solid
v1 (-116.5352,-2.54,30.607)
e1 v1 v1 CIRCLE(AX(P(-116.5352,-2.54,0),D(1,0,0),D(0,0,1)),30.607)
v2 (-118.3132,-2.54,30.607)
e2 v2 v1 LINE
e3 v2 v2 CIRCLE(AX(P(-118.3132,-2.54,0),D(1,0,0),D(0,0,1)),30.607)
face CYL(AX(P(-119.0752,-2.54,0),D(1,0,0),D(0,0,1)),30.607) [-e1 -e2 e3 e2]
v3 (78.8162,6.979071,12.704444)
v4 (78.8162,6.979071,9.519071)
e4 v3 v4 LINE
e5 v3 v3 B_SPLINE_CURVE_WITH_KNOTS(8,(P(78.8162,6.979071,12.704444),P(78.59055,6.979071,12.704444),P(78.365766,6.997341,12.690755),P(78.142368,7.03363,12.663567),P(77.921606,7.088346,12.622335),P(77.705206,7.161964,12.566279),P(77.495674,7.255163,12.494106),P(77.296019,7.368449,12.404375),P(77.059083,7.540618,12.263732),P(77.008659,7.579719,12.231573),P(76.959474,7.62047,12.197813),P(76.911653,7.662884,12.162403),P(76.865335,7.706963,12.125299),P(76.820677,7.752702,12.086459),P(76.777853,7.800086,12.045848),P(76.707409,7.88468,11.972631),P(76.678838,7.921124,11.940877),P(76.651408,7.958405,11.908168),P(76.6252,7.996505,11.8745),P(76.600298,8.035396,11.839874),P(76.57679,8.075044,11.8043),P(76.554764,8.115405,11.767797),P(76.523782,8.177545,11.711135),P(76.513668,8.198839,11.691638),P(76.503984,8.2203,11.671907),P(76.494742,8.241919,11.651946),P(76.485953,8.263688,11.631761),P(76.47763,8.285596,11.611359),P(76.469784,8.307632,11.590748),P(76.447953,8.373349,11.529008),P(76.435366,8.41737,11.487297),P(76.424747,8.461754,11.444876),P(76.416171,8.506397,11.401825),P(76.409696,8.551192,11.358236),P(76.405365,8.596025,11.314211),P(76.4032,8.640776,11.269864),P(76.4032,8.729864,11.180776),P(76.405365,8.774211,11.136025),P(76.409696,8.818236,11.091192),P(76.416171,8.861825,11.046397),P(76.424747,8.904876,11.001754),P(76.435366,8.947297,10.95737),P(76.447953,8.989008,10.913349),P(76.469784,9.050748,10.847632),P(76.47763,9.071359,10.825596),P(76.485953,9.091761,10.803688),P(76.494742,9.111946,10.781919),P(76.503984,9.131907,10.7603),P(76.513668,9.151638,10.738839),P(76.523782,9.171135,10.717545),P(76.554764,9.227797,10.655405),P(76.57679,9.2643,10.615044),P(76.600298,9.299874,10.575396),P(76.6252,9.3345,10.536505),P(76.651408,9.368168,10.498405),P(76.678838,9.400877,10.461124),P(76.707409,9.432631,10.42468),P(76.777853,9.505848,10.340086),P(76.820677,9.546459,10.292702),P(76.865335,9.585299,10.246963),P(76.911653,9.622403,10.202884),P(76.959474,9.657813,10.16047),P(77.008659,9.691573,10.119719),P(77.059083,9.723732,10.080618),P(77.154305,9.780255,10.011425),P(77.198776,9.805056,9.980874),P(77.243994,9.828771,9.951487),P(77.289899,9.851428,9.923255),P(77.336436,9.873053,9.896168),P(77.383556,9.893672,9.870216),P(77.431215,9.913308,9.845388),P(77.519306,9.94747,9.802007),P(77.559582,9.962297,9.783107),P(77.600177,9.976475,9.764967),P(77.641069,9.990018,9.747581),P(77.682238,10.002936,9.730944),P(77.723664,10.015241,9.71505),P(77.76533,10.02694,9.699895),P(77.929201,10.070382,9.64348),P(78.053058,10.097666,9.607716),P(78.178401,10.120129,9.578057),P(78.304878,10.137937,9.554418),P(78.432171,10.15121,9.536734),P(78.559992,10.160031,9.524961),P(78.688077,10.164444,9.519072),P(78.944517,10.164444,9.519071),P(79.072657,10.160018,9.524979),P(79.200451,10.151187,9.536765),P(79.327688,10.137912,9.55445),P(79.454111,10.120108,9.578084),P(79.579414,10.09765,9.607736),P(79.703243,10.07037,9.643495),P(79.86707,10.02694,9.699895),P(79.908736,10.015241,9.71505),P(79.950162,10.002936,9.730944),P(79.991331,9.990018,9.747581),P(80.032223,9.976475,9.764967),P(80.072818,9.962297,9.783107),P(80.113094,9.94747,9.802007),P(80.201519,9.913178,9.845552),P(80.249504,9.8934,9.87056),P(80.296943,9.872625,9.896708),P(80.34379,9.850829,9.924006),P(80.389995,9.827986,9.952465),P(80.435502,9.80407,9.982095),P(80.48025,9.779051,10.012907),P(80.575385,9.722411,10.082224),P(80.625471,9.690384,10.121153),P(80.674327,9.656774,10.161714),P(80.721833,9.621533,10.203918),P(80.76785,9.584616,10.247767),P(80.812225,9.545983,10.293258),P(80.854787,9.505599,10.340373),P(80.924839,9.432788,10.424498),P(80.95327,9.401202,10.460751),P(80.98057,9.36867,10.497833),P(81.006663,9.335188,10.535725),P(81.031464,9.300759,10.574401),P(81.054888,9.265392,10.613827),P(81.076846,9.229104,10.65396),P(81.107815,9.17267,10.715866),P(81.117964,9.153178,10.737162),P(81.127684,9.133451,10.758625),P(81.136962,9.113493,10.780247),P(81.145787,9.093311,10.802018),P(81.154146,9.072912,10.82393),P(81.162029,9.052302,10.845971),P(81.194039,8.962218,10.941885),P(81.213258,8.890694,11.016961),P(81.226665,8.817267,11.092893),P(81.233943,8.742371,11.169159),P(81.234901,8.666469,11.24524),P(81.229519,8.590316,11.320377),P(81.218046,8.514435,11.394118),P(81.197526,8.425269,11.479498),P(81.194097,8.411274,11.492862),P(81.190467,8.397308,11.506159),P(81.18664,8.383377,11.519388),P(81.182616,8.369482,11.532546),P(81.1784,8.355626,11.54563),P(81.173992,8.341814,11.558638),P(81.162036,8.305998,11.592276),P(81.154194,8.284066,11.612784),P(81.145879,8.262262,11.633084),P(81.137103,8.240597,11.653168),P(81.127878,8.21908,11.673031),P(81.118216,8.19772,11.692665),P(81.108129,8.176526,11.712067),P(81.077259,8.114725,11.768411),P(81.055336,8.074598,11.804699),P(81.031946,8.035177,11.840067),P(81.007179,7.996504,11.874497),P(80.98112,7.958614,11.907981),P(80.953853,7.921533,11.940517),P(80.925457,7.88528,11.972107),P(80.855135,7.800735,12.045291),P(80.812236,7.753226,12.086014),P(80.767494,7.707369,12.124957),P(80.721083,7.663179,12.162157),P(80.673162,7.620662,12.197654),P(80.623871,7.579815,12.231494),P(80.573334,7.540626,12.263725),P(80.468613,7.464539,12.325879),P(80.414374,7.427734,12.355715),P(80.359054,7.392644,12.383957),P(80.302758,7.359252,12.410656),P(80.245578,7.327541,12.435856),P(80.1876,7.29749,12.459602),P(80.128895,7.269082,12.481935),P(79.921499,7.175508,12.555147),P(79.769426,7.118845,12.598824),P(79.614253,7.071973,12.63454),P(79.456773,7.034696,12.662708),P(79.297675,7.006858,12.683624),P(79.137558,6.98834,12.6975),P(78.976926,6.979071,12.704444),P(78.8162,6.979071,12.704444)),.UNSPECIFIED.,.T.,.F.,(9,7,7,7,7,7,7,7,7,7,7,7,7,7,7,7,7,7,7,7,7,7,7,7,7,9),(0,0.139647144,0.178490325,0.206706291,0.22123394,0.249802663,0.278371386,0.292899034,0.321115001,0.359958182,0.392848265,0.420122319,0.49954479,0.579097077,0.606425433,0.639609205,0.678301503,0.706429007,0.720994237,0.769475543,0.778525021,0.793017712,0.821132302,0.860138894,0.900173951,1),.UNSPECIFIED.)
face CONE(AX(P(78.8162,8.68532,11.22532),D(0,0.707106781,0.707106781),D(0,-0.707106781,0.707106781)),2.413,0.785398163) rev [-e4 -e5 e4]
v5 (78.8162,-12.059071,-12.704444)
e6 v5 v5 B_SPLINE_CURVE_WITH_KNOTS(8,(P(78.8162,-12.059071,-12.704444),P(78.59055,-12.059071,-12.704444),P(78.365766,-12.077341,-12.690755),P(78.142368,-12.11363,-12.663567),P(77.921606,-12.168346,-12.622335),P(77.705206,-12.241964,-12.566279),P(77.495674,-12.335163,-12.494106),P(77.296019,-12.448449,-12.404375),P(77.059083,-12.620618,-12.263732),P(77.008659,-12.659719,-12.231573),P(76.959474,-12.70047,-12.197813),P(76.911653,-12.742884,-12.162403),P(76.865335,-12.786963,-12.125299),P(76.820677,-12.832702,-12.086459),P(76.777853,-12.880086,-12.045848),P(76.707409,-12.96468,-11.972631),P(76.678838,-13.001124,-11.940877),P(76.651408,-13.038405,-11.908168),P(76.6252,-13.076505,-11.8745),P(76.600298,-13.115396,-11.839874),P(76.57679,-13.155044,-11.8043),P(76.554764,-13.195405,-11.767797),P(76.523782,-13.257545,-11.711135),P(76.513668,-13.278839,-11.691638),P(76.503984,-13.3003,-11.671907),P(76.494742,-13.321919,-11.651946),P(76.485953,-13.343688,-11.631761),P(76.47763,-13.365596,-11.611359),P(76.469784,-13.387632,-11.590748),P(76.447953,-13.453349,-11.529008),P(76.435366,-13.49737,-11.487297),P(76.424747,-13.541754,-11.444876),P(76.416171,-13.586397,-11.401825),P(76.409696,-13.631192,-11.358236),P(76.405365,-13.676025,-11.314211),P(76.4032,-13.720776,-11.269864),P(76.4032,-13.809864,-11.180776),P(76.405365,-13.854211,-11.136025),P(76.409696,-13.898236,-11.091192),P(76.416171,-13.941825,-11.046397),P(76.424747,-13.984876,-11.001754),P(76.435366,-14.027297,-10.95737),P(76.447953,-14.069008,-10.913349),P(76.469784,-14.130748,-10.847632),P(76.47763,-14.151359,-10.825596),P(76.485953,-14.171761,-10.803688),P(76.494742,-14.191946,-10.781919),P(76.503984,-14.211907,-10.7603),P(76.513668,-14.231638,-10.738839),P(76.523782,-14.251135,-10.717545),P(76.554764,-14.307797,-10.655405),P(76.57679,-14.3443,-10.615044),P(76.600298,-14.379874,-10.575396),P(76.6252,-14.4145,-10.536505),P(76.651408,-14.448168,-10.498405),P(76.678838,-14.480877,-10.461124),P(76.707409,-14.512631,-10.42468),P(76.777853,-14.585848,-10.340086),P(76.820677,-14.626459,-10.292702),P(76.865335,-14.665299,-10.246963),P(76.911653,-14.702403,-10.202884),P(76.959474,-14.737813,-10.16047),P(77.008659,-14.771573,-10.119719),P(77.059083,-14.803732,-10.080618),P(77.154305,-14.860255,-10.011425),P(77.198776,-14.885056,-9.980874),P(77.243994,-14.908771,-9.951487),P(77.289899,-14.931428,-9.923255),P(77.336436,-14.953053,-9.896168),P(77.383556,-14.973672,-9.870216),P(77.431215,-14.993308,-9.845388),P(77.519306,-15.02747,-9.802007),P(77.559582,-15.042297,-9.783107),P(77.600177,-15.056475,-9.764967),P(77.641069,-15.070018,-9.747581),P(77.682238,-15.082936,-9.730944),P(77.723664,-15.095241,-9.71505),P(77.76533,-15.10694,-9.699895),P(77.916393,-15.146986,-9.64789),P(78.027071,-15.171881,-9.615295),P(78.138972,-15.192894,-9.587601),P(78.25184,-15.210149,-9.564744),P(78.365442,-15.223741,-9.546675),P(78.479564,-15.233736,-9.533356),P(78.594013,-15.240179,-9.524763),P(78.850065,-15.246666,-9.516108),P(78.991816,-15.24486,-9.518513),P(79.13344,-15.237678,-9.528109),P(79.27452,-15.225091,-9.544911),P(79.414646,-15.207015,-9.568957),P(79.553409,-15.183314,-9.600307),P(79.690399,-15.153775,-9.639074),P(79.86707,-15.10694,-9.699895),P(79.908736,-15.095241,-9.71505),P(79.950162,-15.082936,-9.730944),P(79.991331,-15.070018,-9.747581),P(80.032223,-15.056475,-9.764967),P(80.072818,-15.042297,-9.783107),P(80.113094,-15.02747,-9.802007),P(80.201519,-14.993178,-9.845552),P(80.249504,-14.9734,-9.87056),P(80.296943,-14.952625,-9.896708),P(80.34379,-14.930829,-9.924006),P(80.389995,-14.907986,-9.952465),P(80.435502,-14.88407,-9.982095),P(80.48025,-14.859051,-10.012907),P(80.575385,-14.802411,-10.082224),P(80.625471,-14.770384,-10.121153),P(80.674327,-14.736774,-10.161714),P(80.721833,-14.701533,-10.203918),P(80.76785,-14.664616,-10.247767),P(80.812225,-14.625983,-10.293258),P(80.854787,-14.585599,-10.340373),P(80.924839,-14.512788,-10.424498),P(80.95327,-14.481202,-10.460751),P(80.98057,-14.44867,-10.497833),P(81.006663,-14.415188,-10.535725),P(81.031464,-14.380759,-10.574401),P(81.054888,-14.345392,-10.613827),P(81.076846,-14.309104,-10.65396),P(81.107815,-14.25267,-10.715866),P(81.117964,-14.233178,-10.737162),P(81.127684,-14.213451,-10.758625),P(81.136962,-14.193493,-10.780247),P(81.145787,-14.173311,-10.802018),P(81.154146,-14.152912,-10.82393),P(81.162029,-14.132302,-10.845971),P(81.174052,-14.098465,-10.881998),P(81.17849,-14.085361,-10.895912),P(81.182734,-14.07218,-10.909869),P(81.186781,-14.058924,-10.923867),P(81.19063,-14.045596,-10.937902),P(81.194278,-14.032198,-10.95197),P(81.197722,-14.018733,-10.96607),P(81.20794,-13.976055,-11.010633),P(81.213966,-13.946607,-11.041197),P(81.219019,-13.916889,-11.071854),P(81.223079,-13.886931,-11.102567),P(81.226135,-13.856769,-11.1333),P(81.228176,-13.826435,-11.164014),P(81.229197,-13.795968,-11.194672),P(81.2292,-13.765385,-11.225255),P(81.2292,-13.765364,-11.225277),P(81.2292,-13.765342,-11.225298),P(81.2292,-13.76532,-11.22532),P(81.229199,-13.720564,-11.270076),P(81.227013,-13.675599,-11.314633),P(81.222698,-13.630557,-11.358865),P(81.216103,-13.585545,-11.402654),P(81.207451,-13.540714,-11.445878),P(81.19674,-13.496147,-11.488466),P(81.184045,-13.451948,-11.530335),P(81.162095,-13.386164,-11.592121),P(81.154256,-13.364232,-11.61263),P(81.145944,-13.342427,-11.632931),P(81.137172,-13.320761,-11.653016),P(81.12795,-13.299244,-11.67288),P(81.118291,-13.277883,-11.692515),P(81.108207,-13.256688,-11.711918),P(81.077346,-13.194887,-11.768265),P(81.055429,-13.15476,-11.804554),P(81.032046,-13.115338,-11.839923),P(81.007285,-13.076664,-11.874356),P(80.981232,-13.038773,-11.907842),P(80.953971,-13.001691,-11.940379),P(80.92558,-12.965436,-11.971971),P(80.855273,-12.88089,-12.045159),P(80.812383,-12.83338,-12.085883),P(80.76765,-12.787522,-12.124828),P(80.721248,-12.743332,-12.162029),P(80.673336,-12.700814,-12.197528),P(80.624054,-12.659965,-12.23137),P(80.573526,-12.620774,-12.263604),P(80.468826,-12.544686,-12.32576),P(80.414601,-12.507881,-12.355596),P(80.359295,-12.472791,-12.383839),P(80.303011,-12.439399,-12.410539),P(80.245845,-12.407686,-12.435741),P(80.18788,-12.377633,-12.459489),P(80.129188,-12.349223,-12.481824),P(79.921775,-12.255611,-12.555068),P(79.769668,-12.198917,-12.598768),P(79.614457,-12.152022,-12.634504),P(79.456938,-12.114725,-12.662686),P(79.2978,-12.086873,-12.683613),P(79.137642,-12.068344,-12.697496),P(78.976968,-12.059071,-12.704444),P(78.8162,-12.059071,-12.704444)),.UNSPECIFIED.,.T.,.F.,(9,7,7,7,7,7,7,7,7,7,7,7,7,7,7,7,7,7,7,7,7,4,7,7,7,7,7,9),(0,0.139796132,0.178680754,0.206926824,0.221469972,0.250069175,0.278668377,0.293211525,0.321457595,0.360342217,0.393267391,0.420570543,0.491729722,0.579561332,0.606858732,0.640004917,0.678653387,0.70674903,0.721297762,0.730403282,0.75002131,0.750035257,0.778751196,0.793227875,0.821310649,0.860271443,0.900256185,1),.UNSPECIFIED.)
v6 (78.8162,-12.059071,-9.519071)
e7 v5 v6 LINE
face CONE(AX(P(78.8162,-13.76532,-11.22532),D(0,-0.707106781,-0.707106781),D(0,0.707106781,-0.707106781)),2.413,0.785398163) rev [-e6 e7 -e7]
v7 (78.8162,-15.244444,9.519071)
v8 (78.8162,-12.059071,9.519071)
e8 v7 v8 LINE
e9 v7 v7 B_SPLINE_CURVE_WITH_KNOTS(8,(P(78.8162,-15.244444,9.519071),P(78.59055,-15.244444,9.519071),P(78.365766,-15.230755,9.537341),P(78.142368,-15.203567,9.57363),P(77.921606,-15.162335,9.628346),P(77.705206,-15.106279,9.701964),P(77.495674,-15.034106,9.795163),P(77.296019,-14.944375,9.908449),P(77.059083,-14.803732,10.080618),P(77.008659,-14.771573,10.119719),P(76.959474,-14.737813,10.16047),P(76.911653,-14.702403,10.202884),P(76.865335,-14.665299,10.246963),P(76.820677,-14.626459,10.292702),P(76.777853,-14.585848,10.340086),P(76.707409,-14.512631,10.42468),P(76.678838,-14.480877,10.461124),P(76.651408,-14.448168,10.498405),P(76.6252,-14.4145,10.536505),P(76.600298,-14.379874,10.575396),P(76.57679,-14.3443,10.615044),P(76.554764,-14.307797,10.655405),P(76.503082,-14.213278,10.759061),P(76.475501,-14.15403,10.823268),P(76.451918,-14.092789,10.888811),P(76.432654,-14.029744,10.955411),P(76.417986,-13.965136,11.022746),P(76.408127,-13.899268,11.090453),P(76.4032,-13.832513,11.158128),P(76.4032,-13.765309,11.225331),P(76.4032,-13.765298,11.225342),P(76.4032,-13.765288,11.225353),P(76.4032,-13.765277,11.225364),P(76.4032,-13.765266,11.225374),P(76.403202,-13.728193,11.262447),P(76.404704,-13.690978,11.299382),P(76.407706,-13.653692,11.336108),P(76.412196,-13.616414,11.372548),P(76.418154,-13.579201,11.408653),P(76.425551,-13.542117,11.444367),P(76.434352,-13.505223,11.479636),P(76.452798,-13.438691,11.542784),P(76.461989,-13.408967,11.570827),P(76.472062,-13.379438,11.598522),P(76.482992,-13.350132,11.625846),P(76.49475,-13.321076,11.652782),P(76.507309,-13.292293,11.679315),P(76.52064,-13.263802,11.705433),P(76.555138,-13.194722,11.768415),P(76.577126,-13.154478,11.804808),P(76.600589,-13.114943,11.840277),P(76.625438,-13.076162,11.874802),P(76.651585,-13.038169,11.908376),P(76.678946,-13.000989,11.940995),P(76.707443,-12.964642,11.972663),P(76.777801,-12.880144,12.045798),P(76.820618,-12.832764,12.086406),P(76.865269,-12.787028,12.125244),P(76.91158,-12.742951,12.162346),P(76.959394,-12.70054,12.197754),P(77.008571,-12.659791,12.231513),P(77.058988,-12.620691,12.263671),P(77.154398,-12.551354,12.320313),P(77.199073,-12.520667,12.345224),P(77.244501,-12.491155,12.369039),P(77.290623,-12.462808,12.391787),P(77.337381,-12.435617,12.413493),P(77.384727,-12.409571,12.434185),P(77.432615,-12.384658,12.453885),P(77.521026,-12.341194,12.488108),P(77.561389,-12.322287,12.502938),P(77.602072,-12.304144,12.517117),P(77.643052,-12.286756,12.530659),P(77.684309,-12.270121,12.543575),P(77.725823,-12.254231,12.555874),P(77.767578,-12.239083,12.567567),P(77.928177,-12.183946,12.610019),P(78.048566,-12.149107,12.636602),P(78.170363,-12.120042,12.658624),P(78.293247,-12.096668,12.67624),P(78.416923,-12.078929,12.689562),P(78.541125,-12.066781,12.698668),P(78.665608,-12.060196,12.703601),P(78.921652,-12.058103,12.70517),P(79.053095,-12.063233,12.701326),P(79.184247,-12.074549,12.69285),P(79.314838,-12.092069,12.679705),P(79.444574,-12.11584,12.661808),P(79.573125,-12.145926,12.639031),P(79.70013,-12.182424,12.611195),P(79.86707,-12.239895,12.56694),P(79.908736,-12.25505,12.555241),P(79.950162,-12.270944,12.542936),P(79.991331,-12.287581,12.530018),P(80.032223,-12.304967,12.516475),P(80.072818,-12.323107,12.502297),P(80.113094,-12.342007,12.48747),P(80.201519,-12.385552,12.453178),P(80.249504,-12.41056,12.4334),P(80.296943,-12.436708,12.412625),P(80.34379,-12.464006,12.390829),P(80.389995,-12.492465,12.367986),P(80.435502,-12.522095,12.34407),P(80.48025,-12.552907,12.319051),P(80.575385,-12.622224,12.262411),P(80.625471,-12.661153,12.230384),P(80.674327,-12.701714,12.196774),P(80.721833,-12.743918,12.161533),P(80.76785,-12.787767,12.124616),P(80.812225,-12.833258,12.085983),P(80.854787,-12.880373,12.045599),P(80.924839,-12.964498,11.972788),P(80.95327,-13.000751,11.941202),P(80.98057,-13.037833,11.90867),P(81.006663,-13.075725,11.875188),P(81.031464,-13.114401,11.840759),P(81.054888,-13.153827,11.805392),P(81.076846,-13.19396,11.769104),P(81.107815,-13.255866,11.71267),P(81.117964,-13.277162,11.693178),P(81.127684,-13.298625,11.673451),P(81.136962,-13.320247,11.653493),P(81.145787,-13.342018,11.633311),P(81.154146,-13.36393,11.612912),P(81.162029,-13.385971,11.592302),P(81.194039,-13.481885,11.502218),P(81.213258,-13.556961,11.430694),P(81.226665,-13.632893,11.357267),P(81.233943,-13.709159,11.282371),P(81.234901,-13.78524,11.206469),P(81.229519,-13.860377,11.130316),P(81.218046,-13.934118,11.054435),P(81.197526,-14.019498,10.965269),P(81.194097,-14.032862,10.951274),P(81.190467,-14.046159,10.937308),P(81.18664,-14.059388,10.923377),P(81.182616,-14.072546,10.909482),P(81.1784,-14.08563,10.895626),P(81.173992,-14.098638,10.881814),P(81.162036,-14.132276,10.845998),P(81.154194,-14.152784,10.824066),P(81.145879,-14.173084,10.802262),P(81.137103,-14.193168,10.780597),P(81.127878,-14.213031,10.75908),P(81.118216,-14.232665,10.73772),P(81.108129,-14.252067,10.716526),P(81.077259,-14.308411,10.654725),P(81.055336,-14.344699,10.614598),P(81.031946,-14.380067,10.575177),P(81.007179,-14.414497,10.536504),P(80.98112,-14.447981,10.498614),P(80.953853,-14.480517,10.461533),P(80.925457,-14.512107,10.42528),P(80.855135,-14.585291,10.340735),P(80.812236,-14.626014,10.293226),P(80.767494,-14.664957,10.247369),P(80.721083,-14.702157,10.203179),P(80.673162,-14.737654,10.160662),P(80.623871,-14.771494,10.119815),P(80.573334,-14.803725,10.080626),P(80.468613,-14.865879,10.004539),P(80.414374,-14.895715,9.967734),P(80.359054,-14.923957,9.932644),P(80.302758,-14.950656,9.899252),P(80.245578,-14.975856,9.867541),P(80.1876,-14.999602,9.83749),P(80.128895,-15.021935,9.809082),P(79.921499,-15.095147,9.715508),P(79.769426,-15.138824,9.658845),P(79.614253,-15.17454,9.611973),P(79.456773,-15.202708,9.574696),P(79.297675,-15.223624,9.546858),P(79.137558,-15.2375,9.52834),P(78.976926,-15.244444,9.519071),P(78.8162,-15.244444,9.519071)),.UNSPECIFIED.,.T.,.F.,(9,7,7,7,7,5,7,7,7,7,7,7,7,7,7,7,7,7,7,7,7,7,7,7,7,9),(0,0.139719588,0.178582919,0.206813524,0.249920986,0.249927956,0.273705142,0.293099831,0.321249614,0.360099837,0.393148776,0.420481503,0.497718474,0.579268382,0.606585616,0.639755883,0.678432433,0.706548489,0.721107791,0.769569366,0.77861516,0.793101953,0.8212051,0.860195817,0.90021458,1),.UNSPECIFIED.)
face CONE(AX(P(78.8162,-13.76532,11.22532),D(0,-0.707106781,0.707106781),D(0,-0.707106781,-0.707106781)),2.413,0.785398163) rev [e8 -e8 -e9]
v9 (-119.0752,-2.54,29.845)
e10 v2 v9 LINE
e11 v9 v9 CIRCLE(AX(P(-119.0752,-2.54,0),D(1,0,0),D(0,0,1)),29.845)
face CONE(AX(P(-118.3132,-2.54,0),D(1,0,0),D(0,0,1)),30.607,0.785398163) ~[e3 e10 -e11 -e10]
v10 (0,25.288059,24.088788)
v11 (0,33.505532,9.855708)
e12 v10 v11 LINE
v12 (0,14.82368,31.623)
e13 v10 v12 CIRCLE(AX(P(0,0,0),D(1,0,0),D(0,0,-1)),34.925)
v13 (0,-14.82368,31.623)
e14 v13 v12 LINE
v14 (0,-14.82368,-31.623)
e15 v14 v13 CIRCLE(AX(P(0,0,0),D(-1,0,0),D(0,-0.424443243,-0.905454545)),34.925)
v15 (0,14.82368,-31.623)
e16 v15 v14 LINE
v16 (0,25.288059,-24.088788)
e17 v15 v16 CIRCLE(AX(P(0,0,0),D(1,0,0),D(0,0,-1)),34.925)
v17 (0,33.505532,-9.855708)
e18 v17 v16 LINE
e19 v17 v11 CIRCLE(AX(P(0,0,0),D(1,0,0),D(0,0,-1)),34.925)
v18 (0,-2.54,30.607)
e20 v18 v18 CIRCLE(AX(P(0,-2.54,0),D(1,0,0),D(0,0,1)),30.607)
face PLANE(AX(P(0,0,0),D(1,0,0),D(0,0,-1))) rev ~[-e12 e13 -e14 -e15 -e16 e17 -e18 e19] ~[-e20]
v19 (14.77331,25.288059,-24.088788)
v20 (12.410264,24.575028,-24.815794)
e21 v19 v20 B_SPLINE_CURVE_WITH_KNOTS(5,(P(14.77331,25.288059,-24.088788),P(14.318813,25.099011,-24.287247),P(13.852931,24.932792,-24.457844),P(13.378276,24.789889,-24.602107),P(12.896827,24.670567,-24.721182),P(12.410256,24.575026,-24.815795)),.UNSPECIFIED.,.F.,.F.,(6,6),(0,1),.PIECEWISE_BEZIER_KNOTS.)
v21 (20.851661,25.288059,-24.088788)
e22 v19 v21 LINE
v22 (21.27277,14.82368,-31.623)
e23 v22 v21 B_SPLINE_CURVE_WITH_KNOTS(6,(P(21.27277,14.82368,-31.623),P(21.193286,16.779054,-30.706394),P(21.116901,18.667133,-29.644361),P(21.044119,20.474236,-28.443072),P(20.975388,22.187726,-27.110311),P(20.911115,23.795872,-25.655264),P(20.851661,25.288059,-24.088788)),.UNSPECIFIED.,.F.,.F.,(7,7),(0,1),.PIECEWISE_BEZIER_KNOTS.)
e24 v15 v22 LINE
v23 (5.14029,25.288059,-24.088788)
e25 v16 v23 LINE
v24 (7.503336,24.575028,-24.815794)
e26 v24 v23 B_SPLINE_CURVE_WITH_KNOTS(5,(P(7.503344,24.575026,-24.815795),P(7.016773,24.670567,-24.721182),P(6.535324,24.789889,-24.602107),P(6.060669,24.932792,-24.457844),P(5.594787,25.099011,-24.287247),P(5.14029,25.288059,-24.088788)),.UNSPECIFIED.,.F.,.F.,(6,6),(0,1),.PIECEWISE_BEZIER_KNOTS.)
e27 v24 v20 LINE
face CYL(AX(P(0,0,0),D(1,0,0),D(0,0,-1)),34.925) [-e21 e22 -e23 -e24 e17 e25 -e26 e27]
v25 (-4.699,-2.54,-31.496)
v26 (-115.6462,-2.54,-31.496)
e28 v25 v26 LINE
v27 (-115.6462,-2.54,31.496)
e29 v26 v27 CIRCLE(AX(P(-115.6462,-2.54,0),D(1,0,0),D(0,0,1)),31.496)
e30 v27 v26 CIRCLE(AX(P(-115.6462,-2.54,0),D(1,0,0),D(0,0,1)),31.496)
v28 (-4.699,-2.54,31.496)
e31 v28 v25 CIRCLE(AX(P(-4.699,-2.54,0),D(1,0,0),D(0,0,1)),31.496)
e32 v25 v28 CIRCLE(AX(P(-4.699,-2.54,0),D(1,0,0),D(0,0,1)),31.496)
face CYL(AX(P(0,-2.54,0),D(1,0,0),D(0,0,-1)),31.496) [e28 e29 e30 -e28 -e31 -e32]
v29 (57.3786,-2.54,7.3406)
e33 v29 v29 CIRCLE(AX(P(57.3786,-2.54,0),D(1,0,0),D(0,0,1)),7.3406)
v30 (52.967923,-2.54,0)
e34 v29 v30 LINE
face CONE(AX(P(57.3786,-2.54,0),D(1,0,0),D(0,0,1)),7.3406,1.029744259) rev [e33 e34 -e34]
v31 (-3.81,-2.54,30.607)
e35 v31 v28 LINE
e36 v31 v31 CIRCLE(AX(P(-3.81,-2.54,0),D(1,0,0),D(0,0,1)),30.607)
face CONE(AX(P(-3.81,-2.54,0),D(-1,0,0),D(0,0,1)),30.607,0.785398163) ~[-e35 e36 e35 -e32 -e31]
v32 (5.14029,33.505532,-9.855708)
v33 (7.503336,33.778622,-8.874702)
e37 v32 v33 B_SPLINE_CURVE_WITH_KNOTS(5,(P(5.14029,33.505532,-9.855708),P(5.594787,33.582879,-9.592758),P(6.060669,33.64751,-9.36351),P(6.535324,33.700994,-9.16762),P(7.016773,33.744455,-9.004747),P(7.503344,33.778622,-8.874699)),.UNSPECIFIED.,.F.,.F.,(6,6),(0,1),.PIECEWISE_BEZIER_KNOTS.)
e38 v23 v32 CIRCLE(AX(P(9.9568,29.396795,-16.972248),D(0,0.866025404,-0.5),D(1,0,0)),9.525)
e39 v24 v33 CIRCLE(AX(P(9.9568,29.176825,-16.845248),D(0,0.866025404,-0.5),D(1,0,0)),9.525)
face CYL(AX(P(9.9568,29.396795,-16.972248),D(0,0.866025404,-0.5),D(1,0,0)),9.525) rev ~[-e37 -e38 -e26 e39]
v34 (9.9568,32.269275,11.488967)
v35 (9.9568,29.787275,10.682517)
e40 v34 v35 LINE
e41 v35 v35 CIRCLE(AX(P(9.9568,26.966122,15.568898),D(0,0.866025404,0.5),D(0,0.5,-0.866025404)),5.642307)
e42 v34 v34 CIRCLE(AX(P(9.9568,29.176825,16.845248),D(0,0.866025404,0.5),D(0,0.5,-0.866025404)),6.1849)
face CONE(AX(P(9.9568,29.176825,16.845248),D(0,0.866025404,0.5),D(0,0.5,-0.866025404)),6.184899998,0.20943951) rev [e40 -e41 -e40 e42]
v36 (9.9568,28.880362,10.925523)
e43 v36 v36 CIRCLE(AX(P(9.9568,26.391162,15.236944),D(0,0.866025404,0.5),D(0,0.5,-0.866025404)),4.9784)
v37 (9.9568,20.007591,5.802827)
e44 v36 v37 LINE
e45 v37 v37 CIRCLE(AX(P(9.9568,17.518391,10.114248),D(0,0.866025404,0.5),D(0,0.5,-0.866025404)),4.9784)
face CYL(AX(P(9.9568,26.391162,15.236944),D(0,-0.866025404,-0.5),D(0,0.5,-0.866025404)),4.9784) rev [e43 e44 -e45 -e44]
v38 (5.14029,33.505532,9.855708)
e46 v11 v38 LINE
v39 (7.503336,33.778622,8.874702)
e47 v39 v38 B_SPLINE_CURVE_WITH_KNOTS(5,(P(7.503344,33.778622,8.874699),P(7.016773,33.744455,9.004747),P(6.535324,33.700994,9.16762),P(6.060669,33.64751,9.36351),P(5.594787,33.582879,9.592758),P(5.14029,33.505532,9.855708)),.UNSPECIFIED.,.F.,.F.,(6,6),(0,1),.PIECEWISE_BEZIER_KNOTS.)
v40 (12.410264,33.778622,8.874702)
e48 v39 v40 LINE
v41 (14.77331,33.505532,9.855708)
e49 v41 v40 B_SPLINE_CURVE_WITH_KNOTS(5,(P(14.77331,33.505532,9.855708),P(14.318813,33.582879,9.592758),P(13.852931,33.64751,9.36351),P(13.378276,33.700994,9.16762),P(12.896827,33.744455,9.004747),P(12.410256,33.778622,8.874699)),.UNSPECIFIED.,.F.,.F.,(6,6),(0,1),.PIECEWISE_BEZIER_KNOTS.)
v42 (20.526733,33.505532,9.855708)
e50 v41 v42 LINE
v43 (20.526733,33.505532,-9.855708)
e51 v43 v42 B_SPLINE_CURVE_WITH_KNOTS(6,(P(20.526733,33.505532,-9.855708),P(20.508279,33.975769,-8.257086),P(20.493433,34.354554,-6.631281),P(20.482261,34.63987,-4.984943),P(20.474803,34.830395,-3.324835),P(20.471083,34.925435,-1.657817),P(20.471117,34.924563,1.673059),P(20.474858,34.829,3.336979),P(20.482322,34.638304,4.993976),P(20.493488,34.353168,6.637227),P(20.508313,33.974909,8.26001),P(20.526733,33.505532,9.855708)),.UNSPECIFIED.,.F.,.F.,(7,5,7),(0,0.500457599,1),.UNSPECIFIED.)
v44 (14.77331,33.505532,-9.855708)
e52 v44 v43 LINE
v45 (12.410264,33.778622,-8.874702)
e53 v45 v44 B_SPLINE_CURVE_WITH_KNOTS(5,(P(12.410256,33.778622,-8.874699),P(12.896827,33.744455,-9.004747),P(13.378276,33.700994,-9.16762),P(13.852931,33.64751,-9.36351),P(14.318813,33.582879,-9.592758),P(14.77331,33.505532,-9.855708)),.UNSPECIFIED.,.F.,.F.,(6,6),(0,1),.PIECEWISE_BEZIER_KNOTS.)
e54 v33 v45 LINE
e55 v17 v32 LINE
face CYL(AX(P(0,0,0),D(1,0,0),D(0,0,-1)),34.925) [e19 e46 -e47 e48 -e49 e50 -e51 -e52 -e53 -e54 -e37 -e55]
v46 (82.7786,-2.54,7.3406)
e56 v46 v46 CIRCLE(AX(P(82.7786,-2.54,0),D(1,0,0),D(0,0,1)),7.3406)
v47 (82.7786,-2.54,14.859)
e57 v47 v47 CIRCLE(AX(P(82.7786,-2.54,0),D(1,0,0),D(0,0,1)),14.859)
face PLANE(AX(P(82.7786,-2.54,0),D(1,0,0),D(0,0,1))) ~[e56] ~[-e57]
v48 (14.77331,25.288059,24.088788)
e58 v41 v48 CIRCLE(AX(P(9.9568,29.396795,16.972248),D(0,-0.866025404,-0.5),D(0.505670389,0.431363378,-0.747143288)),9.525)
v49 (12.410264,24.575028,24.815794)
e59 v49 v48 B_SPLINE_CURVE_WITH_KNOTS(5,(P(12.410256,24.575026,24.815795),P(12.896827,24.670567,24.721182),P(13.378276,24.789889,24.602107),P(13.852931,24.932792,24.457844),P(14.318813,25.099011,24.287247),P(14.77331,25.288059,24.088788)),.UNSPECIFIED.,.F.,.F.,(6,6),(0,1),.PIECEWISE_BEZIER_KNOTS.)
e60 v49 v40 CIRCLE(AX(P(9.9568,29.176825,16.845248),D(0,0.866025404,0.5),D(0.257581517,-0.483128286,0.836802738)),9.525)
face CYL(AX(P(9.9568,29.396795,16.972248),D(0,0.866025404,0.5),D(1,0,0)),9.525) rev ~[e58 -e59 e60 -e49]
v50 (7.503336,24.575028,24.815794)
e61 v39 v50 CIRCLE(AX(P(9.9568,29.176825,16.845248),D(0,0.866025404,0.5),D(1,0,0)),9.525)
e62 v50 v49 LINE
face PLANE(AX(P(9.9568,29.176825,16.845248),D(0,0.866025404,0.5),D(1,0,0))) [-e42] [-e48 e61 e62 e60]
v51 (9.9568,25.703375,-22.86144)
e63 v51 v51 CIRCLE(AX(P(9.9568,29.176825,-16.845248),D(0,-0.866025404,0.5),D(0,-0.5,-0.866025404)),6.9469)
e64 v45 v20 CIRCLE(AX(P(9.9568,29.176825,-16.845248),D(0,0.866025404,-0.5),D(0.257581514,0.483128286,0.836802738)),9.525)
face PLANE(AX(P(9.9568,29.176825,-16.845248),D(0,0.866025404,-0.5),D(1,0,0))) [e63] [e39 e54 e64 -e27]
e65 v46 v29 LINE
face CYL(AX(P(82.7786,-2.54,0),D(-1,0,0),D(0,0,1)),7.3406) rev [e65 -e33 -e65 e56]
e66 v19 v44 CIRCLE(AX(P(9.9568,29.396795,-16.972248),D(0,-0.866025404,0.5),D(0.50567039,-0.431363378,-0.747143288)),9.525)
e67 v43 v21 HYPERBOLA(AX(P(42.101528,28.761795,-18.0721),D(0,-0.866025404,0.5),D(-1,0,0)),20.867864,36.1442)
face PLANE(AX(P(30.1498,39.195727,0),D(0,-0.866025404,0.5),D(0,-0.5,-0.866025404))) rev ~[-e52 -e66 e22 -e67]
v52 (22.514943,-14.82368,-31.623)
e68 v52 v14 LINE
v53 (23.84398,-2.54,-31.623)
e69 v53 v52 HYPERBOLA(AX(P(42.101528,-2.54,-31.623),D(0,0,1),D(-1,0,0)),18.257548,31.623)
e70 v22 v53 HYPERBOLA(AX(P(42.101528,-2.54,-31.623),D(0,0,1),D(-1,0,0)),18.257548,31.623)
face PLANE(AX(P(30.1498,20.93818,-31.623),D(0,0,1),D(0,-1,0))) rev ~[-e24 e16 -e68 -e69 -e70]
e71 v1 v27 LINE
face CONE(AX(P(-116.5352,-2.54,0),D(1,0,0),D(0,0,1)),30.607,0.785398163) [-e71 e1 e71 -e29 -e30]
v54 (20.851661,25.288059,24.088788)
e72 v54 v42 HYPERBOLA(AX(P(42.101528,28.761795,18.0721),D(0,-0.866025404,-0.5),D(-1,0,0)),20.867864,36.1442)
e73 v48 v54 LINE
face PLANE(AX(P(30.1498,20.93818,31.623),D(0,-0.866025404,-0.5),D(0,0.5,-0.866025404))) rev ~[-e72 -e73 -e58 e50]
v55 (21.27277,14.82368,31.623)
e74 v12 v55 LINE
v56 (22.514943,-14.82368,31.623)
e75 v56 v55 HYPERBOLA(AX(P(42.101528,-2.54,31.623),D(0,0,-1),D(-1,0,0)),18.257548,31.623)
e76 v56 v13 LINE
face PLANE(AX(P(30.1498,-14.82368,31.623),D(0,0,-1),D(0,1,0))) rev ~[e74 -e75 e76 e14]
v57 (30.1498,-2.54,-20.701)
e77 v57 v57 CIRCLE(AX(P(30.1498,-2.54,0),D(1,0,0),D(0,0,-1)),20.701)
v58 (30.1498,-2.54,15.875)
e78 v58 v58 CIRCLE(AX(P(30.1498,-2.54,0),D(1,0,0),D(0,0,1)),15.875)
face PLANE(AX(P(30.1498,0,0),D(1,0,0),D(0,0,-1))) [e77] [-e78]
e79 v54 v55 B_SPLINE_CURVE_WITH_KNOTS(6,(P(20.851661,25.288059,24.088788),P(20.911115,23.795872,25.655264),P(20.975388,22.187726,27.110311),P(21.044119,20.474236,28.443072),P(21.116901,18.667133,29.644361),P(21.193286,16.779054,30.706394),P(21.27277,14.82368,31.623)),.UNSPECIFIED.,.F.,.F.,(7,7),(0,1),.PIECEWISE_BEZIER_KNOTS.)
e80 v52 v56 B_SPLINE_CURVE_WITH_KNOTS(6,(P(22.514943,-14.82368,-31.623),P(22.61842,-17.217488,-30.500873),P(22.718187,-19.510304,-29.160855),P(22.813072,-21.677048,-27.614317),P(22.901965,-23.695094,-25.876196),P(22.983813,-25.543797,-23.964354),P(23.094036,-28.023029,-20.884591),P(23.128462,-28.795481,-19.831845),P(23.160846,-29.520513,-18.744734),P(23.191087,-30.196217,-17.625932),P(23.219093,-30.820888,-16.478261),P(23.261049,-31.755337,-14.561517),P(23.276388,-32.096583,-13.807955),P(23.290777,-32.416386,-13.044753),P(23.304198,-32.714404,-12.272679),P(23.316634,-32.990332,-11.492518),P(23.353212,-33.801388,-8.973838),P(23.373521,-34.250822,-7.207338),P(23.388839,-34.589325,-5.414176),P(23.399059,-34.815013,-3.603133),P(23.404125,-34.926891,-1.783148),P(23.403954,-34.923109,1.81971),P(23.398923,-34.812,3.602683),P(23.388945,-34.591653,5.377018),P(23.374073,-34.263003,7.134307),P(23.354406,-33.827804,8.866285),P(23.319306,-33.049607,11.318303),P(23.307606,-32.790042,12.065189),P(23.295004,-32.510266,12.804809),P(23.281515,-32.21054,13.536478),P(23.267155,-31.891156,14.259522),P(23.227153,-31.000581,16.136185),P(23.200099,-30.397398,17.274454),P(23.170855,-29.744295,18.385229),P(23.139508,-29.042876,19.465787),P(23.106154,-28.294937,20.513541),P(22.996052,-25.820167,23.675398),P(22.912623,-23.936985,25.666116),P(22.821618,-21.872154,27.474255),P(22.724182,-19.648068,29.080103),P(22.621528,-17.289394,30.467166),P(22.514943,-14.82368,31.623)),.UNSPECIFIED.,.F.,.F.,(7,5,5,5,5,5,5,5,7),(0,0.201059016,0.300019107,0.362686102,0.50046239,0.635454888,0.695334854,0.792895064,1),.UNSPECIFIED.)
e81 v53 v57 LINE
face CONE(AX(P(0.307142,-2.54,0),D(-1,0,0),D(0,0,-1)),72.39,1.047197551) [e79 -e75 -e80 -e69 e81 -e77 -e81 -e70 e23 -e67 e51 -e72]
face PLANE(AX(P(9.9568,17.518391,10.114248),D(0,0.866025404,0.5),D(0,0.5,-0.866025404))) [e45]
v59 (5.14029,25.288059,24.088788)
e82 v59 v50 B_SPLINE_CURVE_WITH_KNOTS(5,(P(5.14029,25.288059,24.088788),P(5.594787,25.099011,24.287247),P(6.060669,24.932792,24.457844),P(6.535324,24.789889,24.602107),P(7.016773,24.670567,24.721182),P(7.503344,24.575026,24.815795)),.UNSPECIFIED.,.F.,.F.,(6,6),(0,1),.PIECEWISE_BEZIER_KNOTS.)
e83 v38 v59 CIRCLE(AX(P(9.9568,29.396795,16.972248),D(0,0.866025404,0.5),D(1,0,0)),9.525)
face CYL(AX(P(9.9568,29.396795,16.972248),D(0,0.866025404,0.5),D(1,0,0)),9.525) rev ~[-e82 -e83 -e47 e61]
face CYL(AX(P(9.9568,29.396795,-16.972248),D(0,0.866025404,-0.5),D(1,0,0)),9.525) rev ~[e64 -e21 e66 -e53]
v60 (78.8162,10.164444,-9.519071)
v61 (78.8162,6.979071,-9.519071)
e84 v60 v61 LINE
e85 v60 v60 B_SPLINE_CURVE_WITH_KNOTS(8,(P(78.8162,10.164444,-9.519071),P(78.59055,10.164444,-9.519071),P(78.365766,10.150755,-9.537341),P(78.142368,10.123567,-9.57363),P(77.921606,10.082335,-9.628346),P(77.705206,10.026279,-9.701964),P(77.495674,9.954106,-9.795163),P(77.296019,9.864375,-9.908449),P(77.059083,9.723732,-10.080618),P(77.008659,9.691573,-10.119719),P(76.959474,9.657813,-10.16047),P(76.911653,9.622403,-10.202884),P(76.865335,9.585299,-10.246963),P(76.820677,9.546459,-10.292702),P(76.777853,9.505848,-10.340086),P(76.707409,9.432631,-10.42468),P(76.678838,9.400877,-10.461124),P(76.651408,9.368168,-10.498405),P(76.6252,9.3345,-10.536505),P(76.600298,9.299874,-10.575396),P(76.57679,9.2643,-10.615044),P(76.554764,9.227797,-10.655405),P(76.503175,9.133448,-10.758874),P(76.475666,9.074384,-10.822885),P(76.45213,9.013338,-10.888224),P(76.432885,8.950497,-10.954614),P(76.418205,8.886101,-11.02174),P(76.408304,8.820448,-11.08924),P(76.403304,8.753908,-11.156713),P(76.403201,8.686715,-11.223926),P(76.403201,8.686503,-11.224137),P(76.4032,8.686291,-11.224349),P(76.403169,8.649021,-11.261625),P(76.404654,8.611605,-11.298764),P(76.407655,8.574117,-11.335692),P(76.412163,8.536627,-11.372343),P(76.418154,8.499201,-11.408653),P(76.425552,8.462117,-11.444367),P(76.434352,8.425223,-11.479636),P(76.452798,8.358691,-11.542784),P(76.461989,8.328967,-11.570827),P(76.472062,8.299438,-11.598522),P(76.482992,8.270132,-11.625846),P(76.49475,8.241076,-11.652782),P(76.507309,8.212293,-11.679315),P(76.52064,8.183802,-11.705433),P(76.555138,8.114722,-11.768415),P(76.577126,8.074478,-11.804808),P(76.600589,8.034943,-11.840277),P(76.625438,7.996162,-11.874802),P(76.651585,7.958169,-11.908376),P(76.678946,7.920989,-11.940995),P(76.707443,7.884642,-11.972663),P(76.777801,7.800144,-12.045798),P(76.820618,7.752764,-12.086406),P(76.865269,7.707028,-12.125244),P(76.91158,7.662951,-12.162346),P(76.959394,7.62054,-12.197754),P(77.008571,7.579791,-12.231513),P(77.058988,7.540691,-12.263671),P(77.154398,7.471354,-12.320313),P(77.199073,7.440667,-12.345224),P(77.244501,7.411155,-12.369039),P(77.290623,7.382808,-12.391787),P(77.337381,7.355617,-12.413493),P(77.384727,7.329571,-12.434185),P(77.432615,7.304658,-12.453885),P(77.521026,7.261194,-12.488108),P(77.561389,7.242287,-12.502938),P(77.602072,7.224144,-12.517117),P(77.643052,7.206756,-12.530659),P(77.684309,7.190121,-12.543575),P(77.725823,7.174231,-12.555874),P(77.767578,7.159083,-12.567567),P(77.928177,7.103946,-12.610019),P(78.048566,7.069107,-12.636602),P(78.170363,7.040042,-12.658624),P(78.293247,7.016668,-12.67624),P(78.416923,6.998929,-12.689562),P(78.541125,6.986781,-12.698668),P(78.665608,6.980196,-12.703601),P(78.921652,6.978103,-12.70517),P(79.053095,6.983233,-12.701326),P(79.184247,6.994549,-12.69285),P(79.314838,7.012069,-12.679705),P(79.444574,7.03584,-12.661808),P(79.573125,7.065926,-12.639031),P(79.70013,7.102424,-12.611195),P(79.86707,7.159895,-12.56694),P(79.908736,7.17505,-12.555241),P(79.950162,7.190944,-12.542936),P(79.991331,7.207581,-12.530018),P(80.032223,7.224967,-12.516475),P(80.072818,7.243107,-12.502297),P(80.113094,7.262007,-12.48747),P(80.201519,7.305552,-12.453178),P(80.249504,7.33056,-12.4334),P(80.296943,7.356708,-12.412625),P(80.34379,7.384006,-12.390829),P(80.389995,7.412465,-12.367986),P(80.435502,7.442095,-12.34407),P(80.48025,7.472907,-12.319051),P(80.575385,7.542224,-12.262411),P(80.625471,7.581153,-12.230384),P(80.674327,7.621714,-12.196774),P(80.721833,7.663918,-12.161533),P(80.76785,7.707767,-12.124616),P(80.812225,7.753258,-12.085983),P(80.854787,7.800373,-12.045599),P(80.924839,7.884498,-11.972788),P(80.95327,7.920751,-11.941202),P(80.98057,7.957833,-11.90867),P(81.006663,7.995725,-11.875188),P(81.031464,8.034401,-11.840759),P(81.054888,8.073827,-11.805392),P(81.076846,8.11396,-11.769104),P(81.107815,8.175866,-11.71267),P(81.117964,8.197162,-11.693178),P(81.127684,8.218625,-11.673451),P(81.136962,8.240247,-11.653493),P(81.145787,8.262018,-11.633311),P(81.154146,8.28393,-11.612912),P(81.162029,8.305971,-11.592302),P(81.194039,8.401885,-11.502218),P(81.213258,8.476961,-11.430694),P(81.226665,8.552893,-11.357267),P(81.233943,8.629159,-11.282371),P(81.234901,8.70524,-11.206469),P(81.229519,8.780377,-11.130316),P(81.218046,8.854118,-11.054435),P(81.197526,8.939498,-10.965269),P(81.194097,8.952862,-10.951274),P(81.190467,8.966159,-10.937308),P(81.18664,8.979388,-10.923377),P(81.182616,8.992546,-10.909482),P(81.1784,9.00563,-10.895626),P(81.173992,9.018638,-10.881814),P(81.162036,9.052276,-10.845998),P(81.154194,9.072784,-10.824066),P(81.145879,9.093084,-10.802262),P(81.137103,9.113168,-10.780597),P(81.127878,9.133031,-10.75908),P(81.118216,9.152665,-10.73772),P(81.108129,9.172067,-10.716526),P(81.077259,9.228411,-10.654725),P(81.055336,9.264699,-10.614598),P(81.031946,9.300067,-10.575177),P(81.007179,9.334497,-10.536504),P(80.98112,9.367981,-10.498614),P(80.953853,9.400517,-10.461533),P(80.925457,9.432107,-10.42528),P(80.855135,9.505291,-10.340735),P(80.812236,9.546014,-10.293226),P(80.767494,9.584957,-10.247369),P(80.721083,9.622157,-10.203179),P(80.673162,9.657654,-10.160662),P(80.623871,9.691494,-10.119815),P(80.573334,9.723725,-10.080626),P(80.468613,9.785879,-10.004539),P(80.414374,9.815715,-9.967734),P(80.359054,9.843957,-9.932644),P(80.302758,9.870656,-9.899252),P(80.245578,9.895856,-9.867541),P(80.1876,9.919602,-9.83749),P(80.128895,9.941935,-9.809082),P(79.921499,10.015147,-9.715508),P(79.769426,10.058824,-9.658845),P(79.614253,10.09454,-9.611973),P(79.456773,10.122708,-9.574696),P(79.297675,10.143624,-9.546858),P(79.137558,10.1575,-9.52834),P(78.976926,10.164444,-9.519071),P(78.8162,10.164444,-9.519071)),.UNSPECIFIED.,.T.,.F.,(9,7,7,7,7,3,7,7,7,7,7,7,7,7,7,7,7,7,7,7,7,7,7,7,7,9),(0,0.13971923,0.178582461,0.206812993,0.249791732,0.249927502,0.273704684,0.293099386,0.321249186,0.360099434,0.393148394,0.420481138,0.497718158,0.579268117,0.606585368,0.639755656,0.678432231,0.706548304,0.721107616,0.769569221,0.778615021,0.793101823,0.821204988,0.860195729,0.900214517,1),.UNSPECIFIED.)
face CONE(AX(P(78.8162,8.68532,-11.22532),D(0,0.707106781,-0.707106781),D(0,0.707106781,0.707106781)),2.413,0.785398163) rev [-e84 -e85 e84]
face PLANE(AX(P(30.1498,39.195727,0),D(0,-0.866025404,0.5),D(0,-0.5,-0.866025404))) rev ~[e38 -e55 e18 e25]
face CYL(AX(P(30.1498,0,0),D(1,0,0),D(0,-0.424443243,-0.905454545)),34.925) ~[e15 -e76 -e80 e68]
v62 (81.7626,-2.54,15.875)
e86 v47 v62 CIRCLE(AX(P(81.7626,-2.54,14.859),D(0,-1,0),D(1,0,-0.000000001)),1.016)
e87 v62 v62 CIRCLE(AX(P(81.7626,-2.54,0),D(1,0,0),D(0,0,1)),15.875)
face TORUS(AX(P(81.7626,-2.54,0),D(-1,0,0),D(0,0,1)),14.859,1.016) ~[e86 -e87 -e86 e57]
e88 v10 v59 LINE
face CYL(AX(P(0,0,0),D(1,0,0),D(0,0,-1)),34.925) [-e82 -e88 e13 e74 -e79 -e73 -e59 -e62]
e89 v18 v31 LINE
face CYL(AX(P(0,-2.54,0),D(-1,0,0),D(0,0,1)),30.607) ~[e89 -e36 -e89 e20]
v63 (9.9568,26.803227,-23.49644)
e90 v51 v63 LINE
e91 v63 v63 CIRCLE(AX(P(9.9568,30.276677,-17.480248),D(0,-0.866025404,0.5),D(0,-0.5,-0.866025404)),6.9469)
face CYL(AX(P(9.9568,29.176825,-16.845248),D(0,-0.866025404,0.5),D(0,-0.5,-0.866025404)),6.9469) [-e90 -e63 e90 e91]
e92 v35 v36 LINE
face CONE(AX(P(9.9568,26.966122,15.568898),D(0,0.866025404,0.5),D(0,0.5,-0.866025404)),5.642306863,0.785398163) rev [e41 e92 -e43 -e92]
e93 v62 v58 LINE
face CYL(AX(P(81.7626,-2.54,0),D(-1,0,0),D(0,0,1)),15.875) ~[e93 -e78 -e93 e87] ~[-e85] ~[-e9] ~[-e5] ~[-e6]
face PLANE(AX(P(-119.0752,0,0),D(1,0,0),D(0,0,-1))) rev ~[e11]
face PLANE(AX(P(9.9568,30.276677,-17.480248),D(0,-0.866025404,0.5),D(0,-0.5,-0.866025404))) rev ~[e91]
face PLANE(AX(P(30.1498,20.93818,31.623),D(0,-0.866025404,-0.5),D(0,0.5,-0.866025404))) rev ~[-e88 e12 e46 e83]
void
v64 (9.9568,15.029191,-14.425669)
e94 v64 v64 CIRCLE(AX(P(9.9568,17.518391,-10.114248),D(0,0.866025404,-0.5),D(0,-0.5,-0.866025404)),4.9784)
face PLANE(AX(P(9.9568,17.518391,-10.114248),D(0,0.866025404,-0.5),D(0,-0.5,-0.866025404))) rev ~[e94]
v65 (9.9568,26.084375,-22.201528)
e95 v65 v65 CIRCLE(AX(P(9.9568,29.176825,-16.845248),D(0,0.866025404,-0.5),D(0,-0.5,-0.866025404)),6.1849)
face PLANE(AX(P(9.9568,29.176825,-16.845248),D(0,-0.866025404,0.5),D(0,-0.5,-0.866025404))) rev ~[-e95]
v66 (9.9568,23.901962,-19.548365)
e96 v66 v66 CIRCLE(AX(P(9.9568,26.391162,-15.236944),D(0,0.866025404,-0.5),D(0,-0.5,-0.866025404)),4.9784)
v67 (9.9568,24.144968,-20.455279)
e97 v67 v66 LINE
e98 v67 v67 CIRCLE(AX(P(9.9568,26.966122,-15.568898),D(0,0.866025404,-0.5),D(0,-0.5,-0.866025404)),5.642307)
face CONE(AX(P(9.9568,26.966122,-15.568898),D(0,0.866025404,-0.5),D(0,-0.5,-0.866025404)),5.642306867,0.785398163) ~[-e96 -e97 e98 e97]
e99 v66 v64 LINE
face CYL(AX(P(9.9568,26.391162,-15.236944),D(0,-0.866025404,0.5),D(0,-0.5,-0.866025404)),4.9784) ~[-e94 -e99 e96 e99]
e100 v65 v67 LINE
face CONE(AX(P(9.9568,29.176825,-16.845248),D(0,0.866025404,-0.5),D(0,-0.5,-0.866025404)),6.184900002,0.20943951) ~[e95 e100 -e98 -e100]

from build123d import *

# Parameters (mm, degrees)
SKETCH1_R           = 34.925
EXTRUDE1_DEPTH      = 30.1498
EXTRUDE1_DEPTH_BACK = 119.0752
CUT_EXTRUDE1_REACH  = 121.075
SKETCH2_R           = 34.925
SKETCH2_R_2         = 31.496
CUT_EXTRUDE3_START  = -30.1498
SKETCH4_R           = 41.275
CUT_EXTRUDE3_DEPTH  = 30.1498
SKETCH18_R          = 9.525
CUT_EXTRUDE4_DEPTH  = 0.254
SKETCH19_R          = 9.525
CUT_EXTRUDE5_DEPTH  = 0.254
CHAMFER1_SIZE       = 0.762
SKETCH15_R          = 6.9469
EXTRUDE2_DEPTH      = 1.27
CIRPATTERN1_COUNT   = 4


with BuildPart() as part:
    # Sketch1 → Extrude1 (new body, two sides)
    with BuildSketch(Plane(origin=(0, 0, 0), x_dir=(0, 0, -1), z_dir=(1, 0, 0))) as extrude1_sk:
        Circle(SKETCH1_R)
    extrude(amount=EXTRUDE1_DEPTH)
    extrude(extrude1_sk.sketch, amount=-EXTRUDE1_DEPTH_BACK)

    # Sketch2 → Cut-Extrude1 (cut, up to next)
    with BuildSketch(Plane(origin=(0, 0, 0), x_dir=(0, 0, -1), z_dir=(1, 0, 0)), mode=Mode.PRIVATE) as cut_extrude1_sk1:
        Circle(SKETCH2_R)
        with Locations((0, -2.54)):
            Circle(SKETCH2_R_2, mode=Mode.SUBTRACT)
    cut_extrude1_tool1 = extrude(cut_extrude1_sk1.sketch, amount=-CUT_EXTRUDE1_REACH, mode=Mode.PRIVATE) & part.part
    add(cut_extrude1_tool1.solids().sort_by_distance((0, 0, 33.937172))[0], mode=Mode.SUBTRACT)

    # Sketch4 → Cut-Extrude3 (cut)
    with BuildSketch(Plane.ZY.offset(CUT_EXTRUDE3_START)):
        Circle(SKETCH4_R)
        with BuildLine():
            Line((31.623, -14.823680245), (31.623, 20.938179637))
            Line((31.623, 20.938179637), (0, 39.195727199))
            Line((0, 39.195727199), (-31.623, 20.938179637))
            Line((-31.623, 20.938179637), (-31.623, -14.823680245))
            ThreePointArc((-31.623, -14.823680245), (0, -34.925), (31.623, -14.823680245))
        make_face(mode=Mode.SUBTRACT)
    extrude(amount=CUT_EXTRUDE3_DEPTH, mode=Mode.SUBTRACT)

    # Sketch6 → Cut-Revolve2 (revolve, cut)
    with BuildSketch(Plane.XY, mode=Mode.PRIVATE) as cut_revolve2_sk:
        Polygon((0.307141936, 69.85), (30.1498, 18.161), (30.1498, 69.85), align=None)
    revolve(cut_revolve2_sk.sketch.rotate(Axis((-1.184990967, -2.54, 0), (1, 0, 0)), 270), axis=Axis((-1.184990967, -2.54, 0), (1, 0, 0)), mode=Mode.SUBTRACT)  # turned: the seam where the file's is

    # S2D0002 → Cut-Revolve3 (revolve, cut)
    with BuildSketch(Plane(origin=(9.9568, 29.176824947, 16.845247737), x_dir=(0, 0.5, -0.866025404), z_dir=(1, 0, 0))):
        Polygon((0, 0), (6.1849, 0), (5.642306865, -2.5527), (4.9784, -3.216606865), (4.9784, -13.462), (0, -13.462), align=None)
    revolve(axis=Axis((9.9568, 16.935469262, 9.777697737), (0, 0.866025404, 0.5)), mode=Mode.SUBTRACT)

    # Sketch8 → Cut-Revolve4 (revolve, cut)
    with BuildSketch(Plane(origin=(9.9568, 29.176824947, -16.845247737), x_dir=(0, -0.5, -0.866025404), z_dir=(1, 0, 0))):
        Polygon((0, 0), (6.1849, 0), (5.642306865, -2.5527), (4.9784, -3.216606865), (4.9784, -13.462), (0, -13.462), align=None)
    revolve(axis=Axis((9.9568, 16.935469262, -9.777697737), (0, 0.866025404, -0.5)), mode=Mode.SUBTRACT)

    # Sketch18 → Cut-Extrude4 (cut)
    with BuildSketch(Plane(origin=(0, 29.396795399, 16.972247737), x_dir=(1, 0, 0), z_dir=(0, 0.866025404, 0.5))):
        with Locations((9.9568, 0)):
            Circle(SKETCH18_R)
    extrude(amount=-CUT_EXTRUDE4_DEPTH, mode=Mode.SUBTRACT)

    # Sketch19 → Cut-Extrude5 (cut)
    with BuildSketch(Plane(origin=(0, 29.396795399, -16.972247737), x_dir=(1, 0, 0), z_dir=(0, 0.866025404, -0.5))):
        with Locations((9.9568, 0)):
            Circle(SKETCH19_R)
    extrude(amount=-CUT_EXTRUDE5_DEPTH, mode=Mode.SUBTRACT)

    # Sketch10 → Cut-Revolve6 (revolve, cut)
    with BuildSketch(Plane.XY, mode=Mode.PRIVATE) as cut_revolve6_sk:
        Polygon((0, 28.956), (0, 28.067), (-3.81, 28.067), (-4.699, 28.956), align=None)
    revolve(cut_revolve6_sk.sketch.rotate(Axis((-4.93395, -2.54, 0), (1, 0, 0)), 90), axis=Axis((-4.93395, -2.54, 0), (1, 0, 0)), mode=Mode.SUBTRACT)  # turned: the seam where the file's is

    # Sketch12 → Cut-Revolve8 (revolve, cut)
    with BuildSketch(Plane.XY, mode=Mode.PRIVATE) as cut_revolve8_sk:
        Polygon((-119.0752, 28.956), (-119.0752, 28.067), (-116.5352, 28.067), (-115.6462, 28.956), align=None)
    revolve(cut_revolve8_sk.sketch.rotate(Axis((-119.24665, -2.54, 0), (1, 0, 0)), 90), axis=Axis((-119.24665, -2.54, 0), (1, 0, 0)), mode=Mode.SUBTRACT)  # turned: the seam where the file's is

    # Chamfer1
    chamfer1_edges = [part.edges().sort_by_distance(p)[0] for p in [
        (-119.0752, -2.54, -30.607),
    ]]
    chamfer(chamfer1_edges, length=CHAMFER1_SIZE)

    # Sketch13 → Revolve1 (revolve)
    with BuildSketch(Plane(origin=(0, 0, 0), x_dir=(0, -1, 0), z_dir=(0, 0, 1)), mode=Mode.PRIVATE) as revolve1_sk:
        with BuildLine():
            Line((2.54, 30.1498), (2.54, 82.7786))
            Line((2.54, 82.7786), (17.399, 82.7786))
            ThreePointArc((17.399, 82.7786), (18.11742049, 82.48102049), (18.415, 81.7626))
            Line((18.415, 81.7626), (18.415, 30.1498))
            Line((18.415, 30.1498), (2.54, 30.1498))
        make_face()
    revolve(revolve1_sk.sketch.rotate(Axis((27.51836, -2.54, 0), (1, 0, 0)), 270), axis=Axis((27.51836, -2.54, 0), (1, 0, 0)))  # turned: the seam where the file's is

    # S2D0001 → Cut-Revolve9 (revolve, cut)
    with BuildSketch(Plane(origin=(82.7786, -9.8806, 0), x_dir=(0, -1, 0), z_dir=(0, 0, 1)), mode=Mode.PRIVATE) as cut_revolve9_sk:
        Polygon((0, 0), (0, -25.4), (-7.3406, -29.81067746), (-7.3406, 0), align=None)
    revolve(cut_revolve9_sk.sketch.rotate(Axis((51.477388667, -2.54, 0), (1, 0, 0)), 270), axis=Axis((51.477388667, -2.54, 0), (1, 0, 0)), mode=Mode.SUBTRACT)  # turned: the seam where the file's is

    # Sketch15 → Extrude2 (add)
    with BuildSketch(Plane(origin=(30.1498, 29.176824947, -16.845247737), x_dir=(0, -0.5, -0.866025404), z_dir=(0, -0.866025404, 0.5))):
        with Locations((0, -20.193)):
            Circle(SKETCH15_R)
    extrude(amount=-EXTRUDE2_DEPTH)

    # Sketch16 → Cut-Revolve10 (revolve, cut)
    with BuildSketch(Plane(origin=(78.8162, 8.685320151, -11.225320151), x_dir=(-1, 0, 0), z_dir=(0, -0.707106781, -0.707106781)), mode=Mode.PRIVATE) as cut_revolve10_sk:
        Polygon((0, 0), (2.413, 0), (0, -2.413), align=None)
    cut_revolve10 = revolve(cut_revolve10_sk.sketch.rotate(Axis((78.8162, 6.893759055, -9.433759055), (0, 0.707106781, -0.707106781)), 90), axis=Axis((78.8162, 6.893759055, -9.433759055), (0, 0.707106781, -0.707106781)), mode=Mode.SUBTRACT)  # turned: the seam where the file's is

    # CirPattern1: Cut-Revolve10 ×4 about axis
    cirpattern1_axis = Axis((27.51836, -2.54, 0), (-1, 0, 0))
    for i in range(1, CIRPATTERN1_COUNT):
        add(cut_revolve10.rotate(cirpattern1_axis, i * 360 / CIRPATTERN1_COUNT), mode=Mode.SUBTRACT)


solid = part.part
